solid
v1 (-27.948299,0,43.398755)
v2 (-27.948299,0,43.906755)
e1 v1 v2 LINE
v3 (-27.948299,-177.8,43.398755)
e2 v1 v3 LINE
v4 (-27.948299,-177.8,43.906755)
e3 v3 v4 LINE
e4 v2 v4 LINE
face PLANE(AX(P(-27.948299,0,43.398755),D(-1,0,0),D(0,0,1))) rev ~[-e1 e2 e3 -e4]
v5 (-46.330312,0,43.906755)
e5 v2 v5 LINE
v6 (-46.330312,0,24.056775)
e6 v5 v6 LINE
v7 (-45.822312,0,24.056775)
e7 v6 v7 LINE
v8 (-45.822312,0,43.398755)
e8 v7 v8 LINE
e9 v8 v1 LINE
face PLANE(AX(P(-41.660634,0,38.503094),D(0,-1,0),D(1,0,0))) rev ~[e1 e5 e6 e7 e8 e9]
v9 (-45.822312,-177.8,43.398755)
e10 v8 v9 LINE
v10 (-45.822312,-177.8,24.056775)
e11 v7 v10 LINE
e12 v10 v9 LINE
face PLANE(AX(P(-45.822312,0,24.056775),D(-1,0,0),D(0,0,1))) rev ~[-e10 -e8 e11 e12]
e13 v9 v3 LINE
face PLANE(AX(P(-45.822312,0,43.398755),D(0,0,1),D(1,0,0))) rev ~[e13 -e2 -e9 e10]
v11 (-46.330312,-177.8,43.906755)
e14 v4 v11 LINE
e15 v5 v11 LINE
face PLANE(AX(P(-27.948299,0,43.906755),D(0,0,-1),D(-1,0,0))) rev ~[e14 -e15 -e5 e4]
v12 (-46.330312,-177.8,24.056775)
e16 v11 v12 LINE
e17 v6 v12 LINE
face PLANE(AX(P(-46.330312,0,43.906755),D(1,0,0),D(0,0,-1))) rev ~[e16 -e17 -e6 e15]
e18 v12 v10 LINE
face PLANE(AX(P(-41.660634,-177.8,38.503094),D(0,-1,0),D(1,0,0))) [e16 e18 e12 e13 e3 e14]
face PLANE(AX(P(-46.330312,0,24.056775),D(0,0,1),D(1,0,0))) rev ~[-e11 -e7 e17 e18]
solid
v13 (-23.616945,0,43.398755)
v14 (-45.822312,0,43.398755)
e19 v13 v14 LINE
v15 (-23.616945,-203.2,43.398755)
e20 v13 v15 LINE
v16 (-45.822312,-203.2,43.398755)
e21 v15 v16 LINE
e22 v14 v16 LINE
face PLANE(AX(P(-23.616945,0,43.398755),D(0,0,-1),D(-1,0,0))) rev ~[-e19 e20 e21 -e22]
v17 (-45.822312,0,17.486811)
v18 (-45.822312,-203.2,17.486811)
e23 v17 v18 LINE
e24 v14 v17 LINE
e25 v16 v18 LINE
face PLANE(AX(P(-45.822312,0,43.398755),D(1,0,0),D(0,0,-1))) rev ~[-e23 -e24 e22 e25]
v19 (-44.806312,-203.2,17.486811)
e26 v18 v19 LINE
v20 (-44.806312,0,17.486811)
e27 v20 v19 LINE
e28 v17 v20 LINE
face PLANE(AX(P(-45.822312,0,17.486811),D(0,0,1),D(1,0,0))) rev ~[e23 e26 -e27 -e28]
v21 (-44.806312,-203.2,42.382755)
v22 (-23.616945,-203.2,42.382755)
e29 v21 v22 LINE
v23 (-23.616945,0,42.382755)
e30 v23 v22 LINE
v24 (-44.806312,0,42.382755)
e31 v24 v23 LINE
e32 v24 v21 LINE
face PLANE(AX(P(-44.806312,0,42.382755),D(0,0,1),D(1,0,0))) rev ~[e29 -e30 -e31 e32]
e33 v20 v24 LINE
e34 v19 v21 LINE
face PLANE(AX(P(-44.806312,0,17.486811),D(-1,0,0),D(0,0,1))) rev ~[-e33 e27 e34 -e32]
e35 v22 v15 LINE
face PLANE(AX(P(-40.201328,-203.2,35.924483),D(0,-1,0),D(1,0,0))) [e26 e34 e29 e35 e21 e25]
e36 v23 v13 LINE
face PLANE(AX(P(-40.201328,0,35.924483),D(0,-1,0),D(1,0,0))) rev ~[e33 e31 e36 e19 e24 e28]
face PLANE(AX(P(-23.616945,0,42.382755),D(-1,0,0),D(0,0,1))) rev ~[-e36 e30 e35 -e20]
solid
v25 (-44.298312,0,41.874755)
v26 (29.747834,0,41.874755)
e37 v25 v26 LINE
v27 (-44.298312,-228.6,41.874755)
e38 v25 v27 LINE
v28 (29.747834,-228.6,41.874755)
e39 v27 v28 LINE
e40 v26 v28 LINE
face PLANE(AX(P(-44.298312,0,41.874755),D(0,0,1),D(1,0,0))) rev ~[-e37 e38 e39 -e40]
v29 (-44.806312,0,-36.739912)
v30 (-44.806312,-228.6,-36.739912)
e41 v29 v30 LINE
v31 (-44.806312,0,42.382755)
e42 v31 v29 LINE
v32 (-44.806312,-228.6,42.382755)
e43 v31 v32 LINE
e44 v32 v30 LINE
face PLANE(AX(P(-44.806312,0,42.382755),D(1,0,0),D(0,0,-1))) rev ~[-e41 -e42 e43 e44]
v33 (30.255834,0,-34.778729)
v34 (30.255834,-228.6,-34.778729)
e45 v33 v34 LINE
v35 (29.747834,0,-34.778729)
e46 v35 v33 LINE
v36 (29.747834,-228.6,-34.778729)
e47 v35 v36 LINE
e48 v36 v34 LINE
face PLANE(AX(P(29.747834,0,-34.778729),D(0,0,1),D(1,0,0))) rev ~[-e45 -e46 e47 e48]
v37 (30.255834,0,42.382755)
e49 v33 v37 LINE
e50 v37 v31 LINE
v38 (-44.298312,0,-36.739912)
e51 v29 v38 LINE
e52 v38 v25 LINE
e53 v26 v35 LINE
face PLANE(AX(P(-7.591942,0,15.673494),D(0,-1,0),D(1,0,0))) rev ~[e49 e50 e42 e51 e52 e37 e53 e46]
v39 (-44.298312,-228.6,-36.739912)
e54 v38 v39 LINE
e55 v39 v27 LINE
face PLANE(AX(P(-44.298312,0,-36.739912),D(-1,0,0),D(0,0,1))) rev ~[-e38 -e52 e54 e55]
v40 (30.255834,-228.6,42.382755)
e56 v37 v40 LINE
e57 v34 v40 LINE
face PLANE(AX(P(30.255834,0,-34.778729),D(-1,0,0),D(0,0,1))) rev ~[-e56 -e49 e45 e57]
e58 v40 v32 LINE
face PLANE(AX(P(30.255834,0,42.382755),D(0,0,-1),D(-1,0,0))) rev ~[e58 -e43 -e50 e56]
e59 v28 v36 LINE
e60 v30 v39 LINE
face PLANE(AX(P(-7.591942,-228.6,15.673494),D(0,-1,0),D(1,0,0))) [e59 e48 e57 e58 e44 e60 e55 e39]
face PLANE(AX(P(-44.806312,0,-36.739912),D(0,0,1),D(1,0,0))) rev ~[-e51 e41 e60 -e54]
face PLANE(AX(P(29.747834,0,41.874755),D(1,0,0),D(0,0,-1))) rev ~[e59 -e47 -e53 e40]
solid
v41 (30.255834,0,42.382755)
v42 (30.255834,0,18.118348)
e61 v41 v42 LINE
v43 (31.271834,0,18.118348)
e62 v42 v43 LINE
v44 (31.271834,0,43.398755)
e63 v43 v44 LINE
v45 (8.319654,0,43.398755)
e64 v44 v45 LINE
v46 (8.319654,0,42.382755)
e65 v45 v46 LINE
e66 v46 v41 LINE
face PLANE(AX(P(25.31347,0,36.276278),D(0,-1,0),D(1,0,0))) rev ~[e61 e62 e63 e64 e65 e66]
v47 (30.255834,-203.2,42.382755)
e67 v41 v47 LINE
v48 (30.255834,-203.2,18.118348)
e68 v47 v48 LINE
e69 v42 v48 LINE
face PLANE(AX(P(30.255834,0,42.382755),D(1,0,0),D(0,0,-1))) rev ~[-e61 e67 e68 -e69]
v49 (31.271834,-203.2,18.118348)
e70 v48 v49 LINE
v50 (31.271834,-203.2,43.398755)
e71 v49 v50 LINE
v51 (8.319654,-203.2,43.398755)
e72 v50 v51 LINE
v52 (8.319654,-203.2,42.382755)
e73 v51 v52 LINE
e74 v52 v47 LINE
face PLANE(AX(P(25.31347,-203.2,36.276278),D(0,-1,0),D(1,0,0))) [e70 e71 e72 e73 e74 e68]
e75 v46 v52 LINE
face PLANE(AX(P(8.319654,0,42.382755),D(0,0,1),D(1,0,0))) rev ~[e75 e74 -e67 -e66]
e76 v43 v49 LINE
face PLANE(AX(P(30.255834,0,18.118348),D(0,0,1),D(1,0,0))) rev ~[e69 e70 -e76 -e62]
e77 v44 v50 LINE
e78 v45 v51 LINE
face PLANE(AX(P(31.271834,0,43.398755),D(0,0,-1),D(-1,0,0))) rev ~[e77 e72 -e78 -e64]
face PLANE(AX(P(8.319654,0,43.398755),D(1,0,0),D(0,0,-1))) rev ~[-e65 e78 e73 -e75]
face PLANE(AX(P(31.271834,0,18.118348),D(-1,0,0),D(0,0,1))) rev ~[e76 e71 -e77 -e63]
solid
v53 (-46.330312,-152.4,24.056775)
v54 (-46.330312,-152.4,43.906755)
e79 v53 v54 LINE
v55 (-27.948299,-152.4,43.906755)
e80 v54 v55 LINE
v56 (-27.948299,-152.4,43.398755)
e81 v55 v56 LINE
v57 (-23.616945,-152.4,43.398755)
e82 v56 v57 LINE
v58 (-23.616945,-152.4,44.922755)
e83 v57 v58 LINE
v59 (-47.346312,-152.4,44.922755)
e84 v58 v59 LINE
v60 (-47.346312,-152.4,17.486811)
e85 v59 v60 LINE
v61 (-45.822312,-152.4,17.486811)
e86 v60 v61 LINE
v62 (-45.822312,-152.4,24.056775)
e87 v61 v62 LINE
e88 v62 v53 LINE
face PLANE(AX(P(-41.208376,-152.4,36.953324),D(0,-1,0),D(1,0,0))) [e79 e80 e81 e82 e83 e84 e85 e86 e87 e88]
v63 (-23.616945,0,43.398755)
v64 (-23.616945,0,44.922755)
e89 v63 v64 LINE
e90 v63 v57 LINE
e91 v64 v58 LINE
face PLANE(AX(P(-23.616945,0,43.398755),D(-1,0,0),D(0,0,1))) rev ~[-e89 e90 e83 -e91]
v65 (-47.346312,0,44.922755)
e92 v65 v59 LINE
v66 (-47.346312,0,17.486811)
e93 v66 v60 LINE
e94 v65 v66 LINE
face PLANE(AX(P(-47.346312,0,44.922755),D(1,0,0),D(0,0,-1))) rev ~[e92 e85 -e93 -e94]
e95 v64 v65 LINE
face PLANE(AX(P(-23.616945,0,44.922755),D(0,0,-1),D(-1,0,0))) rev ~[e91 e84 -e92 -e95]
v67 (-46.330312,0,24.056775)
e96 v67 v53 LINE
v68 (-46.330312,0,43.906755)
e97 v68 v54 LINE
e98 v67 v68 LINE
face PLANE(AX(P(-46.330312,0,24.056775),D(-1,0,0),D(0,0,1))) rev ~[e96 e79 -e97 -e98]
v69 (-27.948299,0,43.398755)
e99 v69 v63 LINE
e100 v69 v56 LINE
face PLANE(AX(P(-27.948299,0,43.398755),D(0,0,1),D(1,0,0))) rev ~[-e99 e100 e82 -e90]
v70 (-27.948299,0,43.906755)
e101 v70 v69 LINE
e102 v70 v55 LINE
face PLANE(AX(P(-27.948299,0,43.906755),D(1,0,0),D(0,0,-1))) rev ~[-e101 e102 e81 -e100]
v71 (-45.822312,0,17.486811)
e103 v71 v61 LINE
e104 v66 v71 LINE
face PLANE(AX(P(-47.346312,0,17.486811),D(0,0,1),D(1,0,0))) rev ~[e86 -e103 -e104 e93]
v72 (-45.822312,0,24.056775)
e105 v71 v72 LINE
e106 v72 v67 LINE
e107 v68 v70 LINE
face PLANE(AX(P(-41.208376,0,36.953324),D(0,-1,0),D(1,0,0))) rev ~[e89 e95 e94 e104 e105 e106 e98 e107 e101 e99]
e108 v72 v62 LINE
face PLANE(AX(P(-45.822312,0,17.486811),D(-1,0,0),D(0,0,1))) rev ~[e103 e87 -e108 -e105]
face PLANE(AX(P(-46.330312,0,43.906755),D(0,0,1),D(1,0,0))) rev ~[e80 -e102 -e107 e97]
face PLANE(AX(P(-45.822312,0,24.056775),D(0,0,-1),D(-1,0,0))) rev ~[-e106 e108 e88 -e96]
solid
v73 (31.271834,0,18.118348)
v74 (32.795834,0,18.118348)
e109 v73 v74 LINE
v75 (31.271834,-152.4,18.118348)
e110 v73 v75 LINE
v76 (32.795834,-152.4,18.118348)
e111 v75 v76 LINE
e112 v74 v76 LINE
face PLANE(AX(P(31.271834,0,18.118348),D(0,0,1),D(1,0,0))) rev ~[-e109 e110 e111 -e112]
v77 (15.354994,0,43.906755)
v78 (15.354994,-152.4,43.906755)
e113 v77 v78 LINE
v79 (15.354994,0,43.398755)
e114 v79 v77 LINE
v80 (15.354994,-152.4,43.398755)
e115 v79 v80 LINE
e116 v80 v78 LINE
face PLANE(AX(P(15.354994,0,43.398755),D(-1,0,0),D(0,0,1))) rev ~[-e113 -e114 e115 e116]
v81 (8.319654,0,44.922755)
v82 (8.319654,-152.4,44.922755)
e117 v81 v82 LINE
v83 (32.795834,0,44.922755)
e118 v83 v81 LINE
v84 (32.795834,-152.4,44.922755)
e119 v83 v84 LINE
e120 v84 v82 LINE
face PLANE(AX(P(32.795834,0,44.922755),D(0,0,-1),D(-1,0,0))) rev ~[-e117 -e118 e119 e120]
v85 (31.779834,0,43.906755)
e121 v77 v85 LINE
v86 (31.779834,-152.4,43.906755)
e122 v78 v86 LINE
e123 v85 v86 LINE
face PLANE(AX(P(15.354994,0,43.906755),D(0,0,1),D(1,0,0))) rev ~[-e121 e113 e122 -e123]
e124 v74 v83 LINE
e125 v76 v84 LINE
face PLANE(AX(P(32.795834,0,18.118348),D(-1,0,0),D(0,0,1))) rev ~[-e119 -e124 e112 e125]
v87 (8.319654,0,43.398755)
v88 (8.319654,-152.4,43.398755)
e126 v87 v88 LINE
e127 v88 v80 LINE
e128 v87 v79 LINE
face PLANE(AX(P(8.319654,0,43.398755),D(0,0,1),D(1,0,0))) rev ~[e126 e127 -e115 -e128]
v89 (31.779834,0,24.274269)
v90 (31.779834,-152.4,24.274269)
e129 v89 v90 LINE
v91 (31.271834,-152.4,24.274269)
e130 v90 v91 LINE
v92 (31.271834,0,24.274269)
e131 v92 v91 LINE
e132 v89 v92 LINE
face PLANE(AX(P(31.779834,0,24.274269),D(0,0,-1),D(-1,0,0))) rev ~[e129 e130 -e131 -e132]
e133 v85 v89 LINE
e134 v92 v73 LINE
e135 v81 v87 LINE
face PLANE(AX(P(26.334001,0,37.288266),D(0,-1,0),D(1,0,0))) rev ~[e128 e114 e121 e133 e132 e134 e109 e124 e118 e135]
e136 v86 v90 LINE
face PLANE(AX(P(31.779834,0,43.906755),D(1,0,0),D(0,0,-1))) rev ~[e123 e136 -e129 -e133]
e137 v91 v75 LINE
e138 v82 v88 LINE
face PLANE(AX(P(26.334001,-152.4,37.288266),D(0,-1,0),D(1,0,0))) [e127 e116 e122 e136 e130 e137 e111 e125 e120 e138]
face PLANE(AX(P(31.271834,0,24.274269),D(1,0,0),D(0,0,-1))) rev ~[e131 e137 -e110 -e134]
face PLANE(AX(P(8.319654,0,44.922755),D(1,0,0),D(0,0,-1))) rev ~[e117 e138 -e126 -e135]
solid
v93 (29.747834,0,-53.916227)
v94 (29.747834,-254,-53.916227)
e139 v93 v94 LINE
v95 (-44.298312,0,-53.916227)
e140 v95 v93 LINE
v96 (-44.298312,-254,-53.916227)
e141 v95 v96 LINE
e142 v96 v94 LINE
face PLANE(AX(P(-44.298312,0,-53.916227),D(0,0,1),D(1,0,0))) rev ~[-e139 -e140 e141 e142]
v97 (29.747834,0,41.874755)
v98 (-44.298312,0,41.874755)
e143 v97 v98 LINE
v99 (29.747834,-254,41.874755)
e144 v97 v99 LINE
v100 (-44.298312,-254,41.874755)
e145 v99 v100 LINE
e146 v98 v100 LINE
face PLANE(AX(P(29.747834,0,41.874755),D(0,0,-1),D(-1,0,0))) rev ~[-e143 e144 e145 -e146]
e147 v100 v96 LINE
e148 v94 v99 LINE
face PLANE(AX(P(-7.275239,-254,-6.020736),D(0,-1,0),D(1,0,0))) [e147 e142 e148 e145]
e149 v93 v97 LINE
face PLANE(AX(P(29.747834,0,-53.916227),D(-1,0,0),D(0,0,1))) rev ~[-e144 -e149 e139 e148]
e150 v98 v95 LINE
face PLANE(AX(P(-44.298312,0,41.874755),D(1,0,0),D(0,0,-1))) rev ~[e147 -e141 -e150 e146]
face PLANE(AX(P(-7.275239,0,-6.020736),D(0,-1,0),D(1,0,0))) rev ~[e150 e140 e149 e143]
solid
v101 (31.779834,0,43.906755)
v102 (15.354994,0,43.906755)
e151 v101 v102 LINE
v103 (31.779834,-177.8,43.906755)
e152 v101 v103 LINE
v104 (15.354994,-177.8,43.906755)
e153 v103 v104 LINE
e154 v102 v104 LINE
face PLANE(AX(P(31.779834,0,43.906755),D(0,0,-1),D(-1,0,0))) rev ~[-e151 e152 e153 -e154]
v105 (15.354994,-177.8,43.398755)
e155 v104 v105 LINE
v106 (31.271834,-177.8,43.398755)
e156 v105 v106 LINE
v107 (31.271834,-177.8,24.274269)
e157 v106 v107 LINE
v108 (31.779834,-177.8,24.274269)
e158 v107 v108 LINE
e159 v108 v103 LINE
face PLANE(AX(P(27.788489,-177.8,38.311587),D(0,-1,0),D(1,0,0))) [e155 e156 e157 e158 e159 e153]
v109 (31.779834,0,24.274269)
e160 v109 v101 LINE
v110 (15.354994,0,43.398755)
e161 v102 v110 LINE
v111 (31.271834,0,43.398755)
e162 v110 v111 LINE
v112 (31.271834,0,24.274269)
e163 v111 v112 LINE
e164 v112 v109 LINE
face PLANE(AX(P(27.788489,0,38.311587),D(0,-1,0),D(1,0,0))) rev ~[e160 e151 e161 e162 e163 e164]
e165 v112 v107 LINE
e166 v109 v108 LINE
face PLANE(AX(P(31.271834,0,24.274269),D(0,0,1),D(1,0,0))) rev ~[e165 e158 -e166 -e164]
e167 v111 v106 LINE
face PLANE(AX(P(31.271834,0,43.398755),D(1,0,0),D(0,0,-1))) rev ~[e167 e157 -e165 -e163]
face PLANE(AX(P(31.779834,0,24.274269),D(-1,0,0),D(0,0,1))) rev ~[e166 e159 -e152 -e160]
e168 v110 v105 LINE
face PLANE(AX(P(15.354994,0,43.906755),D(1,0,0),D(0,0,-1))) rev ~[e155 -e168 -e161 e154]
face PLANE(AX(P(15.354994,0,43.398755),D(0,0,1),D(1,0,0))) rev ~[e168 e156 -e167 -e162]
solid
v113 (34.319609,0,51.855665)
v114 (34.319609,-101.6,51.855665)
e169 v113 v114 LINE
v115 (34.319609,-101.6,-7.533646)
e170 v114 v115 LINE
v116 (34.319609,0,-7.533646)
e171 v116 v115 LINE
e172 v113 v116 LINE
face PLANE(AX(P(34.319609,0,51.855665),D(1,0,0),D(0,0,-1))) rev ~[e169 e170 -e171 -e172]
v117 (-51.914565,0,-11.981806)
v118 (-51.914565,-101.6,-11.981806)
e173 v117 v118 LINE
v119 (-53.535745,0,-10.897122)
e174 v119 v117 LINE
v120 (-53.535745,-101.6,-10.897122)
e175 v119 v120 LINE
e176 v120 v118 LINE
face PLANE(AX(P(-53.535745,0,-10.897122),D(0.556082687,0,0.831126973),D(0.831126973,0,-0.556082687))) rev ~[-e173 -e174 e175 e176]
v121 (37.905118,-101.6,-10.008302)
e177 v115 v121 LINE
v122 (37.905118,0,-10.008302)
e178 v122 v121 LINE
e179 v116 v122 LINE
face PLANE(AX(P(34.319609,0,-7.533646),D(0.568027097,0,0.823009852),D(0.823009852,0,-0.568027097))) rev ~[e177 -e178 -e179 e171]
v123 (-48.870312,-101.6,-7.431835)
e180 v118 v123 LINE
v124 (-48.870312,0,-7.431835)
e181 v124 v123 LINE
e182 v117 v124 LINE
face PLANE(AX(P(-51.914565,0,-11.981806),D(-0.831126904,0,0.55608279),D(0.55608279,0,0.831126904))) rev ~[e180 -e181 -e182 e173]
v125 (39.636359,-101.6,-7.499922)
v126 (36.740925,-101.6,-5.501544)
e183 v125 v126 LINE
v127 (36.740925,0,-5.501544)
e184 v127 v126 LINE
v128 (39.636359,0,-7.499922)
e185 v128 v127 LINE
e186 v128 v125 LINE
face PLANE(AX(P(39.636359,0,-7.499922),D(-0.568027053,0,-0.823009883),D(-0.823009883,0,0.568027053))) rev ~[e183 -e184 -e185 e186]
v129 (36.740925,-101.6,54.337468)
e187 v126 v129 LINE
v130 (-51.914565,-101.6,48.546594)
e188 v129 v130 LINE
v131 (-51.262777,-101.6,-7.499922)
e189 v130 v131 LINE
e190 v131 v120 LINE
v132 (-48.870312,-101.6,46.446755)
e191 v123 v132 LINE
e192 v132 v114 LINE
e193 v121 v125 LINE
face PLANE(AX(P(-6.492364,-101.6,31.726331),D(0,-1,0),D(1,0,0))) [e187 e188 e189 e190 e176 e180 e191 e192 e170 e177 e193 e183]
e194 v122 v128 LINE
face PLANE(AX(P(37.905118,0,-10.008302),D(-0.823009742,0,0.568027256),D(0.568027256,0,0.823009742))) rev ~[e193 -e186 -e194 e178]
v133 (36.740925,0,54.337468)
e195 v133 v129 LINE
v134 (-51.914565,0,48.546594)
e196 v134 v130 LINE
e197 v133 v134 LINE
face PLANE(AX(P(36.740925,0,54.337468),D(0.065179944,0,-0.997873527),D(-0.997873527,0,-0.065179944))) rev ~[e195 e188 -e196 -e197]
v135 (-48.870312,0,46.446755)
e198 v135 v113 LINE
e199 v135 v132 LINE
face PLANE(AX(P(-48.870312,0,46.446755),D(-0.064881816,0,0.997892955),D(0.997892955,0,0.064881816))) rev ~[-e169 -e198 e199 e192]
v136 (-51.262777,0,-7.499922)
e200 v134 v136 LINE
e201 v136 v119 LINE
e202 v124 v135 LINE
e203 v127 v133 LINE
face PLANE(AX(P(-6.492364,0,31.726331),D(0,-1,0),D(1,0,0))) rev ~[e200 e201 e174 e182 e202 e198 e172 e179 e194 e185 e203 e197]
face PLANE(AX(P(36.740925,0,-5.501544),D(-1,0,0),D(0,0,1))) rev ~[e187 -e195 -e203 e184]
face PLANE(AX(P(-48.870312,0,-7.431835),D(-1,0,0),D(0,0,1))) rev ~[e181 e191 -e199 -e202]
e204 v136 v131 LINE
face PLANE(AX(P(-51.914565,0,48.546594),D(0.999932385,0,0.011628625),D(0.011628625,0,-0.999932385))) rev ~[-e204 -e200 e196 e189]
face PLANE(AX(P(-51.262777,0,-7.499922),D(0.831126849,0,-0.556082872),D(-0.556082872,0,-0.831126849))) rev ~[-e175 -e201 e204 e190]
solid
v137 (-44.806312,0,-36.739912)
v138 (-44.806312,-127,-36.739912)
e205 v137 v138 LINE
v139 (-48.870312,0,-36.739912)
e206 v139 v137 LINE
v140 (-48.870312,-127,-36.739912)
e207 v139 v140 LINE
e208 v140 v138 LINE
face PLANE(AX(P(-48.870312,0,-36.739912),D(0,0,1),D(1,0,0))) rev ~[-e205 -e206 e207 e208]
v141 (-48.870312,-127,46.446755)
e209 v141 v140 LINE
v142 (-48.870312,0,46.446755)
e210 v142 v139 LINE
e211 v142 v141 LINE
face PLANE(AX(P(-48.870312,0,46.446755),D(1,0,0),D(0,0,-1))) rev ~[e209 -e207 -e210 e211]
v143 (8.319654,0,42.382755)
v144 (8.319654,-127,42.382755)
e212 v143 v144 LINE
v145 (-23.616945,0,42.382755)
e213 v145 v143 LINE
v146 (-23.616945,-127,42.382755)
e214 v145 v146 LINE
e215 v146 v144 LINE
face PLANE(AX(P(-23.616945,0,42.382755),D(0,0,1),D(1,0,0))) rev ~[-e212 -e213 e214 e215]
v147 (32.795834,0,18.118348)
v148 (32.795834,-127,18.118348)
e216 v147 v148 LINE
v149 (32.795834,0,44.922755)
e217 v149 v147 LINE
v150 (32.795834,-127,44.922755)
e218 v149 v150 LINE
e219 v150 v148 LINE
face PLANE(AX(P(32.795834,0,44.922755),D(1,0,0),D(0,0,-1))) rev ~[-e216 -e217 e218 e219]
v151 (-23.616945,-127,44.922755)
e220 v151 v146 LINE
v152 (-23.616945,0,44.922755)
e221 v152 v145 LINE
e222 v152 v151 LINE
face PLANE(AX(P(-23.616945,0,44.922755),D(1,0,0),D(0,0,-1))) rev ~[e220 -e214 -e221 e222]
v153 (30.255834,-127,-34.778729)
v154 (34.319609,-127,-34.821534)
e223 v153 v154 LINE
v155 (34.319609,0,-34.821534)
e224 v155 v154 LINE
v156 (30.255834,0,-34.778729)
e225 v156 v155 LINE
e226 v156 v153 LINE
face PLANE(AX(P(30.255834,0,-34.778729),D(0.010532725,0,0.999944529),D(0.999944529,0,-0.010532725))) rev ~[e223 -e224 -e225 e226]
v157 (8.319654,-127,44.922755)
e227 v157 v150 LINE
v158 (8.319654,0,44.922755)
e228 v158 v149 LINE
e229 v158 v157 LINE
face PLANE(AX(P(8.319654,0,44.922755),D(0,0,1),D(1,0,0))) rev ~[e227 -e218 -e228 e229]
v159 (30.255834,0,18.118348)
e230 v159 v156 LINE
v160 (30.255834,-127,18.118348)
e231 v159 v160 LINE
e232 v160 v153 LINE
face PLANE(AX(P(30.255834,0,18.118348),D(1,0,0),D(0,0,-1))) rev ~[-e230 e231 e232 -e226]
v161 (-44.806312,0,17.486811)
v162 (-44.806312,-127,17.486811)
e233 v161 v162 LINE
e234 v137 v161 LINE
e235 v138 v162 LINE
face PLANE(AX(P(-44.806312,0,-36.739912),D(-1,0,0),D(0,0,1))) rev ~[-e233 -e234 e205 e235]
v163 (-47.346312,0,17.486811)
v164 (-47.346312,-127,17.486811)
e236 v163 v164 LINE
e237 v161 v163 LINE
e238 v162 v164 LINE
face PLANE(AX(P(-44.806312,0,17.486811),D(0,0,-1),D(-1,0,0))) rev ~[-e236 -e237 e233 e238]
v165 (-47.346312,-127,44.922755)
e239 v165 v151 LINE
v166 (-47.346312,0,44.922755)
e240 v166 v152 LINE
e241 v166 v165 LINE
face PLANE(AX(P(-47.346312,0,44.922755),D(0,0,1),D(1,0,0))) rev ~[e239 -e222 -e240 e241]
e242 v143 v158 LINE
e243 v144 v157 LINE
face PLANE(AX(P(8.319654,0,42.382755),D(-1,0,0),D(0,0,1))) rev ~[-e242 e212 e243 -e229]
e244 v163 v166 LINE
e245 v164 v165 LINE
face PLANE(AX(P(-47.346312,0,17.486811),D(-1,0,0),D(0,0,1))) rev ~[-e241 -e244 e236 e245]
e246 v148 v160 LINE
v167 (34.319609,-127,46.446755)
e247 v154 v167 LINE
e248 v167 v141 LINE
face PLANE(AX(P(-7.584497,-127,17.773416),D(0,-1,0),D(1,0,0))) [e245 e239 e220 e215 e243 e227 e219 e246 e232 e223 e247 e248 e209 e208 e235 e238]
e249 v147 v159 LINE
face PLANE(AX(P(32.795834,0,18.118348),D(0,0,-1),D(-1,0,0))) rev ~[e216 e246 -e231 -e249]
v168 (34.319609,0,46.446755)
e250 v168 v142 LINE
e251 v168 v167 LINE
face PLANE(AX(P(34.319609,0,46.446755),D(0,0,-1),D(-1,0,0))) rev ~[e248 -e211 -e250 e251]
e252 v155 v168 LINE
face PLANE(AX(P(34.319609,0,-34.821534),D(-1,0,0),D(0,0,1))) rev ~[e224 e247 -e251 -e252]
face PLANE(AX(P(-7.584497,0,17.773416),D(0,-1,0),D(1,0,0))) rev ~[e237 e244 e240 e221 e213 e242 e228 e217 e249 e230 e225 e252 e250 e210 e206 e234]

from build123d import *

# Parameters (mm, degrees)
F1_DEPTH  = 254
F2_DEPTH  = 228.6
F3_DEPTH  = 203.2
F4_DEPTH  = 177.8
F5_DEPTH  = 152.4
F6_DEPTH  = 203.2
F7_DEPTH  = 177.8
F8_DEPTH  = 152.4
F9_DEPTH  = 127
F10_DEPTH = 101.6


with BuildPart() as f1:
    # F0 (on Front) → F1 (new body)
    with BuildSketch(Plane.XZ):
        Polygon((-44.298312, -36.739912), (-44.298312, -53.916227), (29.747834, -53.916227), (29.747834, -34.778729), (29.747834, 41.874755), (-44.298312, 41.874755), align=None)
    extrude(amount=F1_DEPTH)


with BuildPart() as f2:
    # F0 (on Front) → F2 (new body)
    with BuildSketch(Plane.XZ):
        Polygon((-44.806312, -36.739912), (-44.298312, -36.739912), (-44.298312, 41.874755), (29.747834, 41.874755), (29.747834, -34.778729), (30.255834, -34.778729), (30.255834, 18.118348), (30.255834, 42.382755), (8.319654, 42.382755), (-23.616945, 42.382755), (-44.806312, 42.382755), (-44.806312, 17.486811), align=None)
    extrude(amount=F2_DEPTH)


with BuildPart() as f3:
    # F0 (on Front) → F3 (new body)
    with BuildSketch(Plane.XZ):
        Polygon((-45.822312, 17.486811), (-44.806312, 17.486811), (-44.806312, 42.382755), (-23.616945, 42.382755), (-23.616945, 43.398755), (-27.948299, 43.398755), (-45.822312, 43.398755), (-45.822312, 24.056775), align=None)
    extrude(amount=F3_DEPTH)


with BuildPart() as f4:
    # F0 (on Front) → F4 (new body)
    with BuildSketch(Plane.XZ):
        Polygon((-46.330312, 24.056775), (-45.822312, 24.056775), (-45.822312, 43.398755), (-27.948299, 43.398755), (-27.948299, 43.906755), (-46.330312, 43.906755), align=None)
    extrude(amount=F4_DEPTH)


with BuildPart() as f5:
    # F0 (on Front) → F5 (new body)
    with BuildSketch(Plane.XZ):
        Polygon((-47.346312, 17.486811), (-45.822312, 17.486811), (-45.822312, 24.056775), (-46.330312, 24.056775), (-46.330312, 43.906755), (-27.948299, 43.906755), (-27.948299, 43.398755), (-23.616945, 43.398755), (-23.616945, 44.922755), (-47.346312, 44.922755), align=None)
    extrude(amount=F5_DEPTH)


with BuildPart() as f6:
    # F0 (on Front) → F6 (new body)
    with BuildSketch(Plane.XZ):
        Polygon((30.255834, 42.382755), (30.255834, 18.118348), (31.271834, 18.118348), (31.271834, 24.274269), (31.271834, 43.398755), (15.354994, 43.398755), (8.319654, 43.398755), (8.319654, 42.382755), align=None)
    extrude(amount=F6_DEPTH)


with BuildPart() as f7:
    # F0 (on Front) → F7 (new body)
    with BuildSketch(Plane.XZ):
        Polygon((31.271834, 43.398755), (31.271834, 24.274269), (31.779834, 24.274269), (31.779834, 43.906755), (15.354994, 43.906755), (15.354994, 43.398755), align=None)
    extrude(amount=F7_DEPTH)


with BuildPart() as f8:
    # F0 (on Front) → F8 (new body)
    with BuildSketch(Plane.XZ):
        Polygon((31.271834, 24.274269), (31.271834, 18.118348), (32.795834, 18.118348), (32.795834, 44.922755), (8.319654, 44.922755), (8.319654, 43.398755), (15.354994, 43.398755), (15.354994, 43.906755), (31.779834, 43.906755), (31.779834, 24.274269), align=None)
    extrude(amount=F8_DEPTH)


with BuildPart() as f9:
    # F0 (on Front) → F9 (new body)
    with BuildSketch(Plane.XZ):
        Polygon((-48.870312, -36.739912), (-44.806312, -36.739912), (-44.806312, 17.486811), (-45.822312, 17.486811), (-47.346312, 17.486811), (-47.346312, 44.922755), (-23.616945, 44.922755), (-23.616945, 43.398755), (-23.616945, 42.382755), (8.319654, 42.382755), (8.319654, 43.398755), (8.319654, 44.922755), (32.795834, 44.922755), (32.795834, 18.118348), (31.271834, 18.118348), (30.255834, 18.118348), (30.255834, -34.778729), (34.319609, -34.821534), (34.319609, -7.533646), (34.319609, 46.446755), (-48.870312, 46.446755), (-48.870312, -7.431835), align=None)
    extrude(amount=F9_DEPTH)


with BuildPart() as f10:
    # F0 (on Front) → F10 (new body)
    with BuildSketch(Plane.XZ):
        Polygon((-51.914565, -11.981806), (-48.870312, -7.431835), (-48.870312, 46.446755), (34.319609, 51.855665), (34.319609, 46.446755), (34.319609, -7.533646), (37.905118, -10.008302), (39.636359, -7.499922), (36.740925, -5.501544), (36.740925, 54.337468), (-51.914565, 48.546594), (-51.262777, -7.499922), (-53.535745, -10.897122), align=None)
    extrude(amount=F10_DEPTH)


solid = Compound([f1.part, f2.part, f3.part, f4.part, f5.part, f6.part, f7.part, f8.part, f9.part, f10.part])
